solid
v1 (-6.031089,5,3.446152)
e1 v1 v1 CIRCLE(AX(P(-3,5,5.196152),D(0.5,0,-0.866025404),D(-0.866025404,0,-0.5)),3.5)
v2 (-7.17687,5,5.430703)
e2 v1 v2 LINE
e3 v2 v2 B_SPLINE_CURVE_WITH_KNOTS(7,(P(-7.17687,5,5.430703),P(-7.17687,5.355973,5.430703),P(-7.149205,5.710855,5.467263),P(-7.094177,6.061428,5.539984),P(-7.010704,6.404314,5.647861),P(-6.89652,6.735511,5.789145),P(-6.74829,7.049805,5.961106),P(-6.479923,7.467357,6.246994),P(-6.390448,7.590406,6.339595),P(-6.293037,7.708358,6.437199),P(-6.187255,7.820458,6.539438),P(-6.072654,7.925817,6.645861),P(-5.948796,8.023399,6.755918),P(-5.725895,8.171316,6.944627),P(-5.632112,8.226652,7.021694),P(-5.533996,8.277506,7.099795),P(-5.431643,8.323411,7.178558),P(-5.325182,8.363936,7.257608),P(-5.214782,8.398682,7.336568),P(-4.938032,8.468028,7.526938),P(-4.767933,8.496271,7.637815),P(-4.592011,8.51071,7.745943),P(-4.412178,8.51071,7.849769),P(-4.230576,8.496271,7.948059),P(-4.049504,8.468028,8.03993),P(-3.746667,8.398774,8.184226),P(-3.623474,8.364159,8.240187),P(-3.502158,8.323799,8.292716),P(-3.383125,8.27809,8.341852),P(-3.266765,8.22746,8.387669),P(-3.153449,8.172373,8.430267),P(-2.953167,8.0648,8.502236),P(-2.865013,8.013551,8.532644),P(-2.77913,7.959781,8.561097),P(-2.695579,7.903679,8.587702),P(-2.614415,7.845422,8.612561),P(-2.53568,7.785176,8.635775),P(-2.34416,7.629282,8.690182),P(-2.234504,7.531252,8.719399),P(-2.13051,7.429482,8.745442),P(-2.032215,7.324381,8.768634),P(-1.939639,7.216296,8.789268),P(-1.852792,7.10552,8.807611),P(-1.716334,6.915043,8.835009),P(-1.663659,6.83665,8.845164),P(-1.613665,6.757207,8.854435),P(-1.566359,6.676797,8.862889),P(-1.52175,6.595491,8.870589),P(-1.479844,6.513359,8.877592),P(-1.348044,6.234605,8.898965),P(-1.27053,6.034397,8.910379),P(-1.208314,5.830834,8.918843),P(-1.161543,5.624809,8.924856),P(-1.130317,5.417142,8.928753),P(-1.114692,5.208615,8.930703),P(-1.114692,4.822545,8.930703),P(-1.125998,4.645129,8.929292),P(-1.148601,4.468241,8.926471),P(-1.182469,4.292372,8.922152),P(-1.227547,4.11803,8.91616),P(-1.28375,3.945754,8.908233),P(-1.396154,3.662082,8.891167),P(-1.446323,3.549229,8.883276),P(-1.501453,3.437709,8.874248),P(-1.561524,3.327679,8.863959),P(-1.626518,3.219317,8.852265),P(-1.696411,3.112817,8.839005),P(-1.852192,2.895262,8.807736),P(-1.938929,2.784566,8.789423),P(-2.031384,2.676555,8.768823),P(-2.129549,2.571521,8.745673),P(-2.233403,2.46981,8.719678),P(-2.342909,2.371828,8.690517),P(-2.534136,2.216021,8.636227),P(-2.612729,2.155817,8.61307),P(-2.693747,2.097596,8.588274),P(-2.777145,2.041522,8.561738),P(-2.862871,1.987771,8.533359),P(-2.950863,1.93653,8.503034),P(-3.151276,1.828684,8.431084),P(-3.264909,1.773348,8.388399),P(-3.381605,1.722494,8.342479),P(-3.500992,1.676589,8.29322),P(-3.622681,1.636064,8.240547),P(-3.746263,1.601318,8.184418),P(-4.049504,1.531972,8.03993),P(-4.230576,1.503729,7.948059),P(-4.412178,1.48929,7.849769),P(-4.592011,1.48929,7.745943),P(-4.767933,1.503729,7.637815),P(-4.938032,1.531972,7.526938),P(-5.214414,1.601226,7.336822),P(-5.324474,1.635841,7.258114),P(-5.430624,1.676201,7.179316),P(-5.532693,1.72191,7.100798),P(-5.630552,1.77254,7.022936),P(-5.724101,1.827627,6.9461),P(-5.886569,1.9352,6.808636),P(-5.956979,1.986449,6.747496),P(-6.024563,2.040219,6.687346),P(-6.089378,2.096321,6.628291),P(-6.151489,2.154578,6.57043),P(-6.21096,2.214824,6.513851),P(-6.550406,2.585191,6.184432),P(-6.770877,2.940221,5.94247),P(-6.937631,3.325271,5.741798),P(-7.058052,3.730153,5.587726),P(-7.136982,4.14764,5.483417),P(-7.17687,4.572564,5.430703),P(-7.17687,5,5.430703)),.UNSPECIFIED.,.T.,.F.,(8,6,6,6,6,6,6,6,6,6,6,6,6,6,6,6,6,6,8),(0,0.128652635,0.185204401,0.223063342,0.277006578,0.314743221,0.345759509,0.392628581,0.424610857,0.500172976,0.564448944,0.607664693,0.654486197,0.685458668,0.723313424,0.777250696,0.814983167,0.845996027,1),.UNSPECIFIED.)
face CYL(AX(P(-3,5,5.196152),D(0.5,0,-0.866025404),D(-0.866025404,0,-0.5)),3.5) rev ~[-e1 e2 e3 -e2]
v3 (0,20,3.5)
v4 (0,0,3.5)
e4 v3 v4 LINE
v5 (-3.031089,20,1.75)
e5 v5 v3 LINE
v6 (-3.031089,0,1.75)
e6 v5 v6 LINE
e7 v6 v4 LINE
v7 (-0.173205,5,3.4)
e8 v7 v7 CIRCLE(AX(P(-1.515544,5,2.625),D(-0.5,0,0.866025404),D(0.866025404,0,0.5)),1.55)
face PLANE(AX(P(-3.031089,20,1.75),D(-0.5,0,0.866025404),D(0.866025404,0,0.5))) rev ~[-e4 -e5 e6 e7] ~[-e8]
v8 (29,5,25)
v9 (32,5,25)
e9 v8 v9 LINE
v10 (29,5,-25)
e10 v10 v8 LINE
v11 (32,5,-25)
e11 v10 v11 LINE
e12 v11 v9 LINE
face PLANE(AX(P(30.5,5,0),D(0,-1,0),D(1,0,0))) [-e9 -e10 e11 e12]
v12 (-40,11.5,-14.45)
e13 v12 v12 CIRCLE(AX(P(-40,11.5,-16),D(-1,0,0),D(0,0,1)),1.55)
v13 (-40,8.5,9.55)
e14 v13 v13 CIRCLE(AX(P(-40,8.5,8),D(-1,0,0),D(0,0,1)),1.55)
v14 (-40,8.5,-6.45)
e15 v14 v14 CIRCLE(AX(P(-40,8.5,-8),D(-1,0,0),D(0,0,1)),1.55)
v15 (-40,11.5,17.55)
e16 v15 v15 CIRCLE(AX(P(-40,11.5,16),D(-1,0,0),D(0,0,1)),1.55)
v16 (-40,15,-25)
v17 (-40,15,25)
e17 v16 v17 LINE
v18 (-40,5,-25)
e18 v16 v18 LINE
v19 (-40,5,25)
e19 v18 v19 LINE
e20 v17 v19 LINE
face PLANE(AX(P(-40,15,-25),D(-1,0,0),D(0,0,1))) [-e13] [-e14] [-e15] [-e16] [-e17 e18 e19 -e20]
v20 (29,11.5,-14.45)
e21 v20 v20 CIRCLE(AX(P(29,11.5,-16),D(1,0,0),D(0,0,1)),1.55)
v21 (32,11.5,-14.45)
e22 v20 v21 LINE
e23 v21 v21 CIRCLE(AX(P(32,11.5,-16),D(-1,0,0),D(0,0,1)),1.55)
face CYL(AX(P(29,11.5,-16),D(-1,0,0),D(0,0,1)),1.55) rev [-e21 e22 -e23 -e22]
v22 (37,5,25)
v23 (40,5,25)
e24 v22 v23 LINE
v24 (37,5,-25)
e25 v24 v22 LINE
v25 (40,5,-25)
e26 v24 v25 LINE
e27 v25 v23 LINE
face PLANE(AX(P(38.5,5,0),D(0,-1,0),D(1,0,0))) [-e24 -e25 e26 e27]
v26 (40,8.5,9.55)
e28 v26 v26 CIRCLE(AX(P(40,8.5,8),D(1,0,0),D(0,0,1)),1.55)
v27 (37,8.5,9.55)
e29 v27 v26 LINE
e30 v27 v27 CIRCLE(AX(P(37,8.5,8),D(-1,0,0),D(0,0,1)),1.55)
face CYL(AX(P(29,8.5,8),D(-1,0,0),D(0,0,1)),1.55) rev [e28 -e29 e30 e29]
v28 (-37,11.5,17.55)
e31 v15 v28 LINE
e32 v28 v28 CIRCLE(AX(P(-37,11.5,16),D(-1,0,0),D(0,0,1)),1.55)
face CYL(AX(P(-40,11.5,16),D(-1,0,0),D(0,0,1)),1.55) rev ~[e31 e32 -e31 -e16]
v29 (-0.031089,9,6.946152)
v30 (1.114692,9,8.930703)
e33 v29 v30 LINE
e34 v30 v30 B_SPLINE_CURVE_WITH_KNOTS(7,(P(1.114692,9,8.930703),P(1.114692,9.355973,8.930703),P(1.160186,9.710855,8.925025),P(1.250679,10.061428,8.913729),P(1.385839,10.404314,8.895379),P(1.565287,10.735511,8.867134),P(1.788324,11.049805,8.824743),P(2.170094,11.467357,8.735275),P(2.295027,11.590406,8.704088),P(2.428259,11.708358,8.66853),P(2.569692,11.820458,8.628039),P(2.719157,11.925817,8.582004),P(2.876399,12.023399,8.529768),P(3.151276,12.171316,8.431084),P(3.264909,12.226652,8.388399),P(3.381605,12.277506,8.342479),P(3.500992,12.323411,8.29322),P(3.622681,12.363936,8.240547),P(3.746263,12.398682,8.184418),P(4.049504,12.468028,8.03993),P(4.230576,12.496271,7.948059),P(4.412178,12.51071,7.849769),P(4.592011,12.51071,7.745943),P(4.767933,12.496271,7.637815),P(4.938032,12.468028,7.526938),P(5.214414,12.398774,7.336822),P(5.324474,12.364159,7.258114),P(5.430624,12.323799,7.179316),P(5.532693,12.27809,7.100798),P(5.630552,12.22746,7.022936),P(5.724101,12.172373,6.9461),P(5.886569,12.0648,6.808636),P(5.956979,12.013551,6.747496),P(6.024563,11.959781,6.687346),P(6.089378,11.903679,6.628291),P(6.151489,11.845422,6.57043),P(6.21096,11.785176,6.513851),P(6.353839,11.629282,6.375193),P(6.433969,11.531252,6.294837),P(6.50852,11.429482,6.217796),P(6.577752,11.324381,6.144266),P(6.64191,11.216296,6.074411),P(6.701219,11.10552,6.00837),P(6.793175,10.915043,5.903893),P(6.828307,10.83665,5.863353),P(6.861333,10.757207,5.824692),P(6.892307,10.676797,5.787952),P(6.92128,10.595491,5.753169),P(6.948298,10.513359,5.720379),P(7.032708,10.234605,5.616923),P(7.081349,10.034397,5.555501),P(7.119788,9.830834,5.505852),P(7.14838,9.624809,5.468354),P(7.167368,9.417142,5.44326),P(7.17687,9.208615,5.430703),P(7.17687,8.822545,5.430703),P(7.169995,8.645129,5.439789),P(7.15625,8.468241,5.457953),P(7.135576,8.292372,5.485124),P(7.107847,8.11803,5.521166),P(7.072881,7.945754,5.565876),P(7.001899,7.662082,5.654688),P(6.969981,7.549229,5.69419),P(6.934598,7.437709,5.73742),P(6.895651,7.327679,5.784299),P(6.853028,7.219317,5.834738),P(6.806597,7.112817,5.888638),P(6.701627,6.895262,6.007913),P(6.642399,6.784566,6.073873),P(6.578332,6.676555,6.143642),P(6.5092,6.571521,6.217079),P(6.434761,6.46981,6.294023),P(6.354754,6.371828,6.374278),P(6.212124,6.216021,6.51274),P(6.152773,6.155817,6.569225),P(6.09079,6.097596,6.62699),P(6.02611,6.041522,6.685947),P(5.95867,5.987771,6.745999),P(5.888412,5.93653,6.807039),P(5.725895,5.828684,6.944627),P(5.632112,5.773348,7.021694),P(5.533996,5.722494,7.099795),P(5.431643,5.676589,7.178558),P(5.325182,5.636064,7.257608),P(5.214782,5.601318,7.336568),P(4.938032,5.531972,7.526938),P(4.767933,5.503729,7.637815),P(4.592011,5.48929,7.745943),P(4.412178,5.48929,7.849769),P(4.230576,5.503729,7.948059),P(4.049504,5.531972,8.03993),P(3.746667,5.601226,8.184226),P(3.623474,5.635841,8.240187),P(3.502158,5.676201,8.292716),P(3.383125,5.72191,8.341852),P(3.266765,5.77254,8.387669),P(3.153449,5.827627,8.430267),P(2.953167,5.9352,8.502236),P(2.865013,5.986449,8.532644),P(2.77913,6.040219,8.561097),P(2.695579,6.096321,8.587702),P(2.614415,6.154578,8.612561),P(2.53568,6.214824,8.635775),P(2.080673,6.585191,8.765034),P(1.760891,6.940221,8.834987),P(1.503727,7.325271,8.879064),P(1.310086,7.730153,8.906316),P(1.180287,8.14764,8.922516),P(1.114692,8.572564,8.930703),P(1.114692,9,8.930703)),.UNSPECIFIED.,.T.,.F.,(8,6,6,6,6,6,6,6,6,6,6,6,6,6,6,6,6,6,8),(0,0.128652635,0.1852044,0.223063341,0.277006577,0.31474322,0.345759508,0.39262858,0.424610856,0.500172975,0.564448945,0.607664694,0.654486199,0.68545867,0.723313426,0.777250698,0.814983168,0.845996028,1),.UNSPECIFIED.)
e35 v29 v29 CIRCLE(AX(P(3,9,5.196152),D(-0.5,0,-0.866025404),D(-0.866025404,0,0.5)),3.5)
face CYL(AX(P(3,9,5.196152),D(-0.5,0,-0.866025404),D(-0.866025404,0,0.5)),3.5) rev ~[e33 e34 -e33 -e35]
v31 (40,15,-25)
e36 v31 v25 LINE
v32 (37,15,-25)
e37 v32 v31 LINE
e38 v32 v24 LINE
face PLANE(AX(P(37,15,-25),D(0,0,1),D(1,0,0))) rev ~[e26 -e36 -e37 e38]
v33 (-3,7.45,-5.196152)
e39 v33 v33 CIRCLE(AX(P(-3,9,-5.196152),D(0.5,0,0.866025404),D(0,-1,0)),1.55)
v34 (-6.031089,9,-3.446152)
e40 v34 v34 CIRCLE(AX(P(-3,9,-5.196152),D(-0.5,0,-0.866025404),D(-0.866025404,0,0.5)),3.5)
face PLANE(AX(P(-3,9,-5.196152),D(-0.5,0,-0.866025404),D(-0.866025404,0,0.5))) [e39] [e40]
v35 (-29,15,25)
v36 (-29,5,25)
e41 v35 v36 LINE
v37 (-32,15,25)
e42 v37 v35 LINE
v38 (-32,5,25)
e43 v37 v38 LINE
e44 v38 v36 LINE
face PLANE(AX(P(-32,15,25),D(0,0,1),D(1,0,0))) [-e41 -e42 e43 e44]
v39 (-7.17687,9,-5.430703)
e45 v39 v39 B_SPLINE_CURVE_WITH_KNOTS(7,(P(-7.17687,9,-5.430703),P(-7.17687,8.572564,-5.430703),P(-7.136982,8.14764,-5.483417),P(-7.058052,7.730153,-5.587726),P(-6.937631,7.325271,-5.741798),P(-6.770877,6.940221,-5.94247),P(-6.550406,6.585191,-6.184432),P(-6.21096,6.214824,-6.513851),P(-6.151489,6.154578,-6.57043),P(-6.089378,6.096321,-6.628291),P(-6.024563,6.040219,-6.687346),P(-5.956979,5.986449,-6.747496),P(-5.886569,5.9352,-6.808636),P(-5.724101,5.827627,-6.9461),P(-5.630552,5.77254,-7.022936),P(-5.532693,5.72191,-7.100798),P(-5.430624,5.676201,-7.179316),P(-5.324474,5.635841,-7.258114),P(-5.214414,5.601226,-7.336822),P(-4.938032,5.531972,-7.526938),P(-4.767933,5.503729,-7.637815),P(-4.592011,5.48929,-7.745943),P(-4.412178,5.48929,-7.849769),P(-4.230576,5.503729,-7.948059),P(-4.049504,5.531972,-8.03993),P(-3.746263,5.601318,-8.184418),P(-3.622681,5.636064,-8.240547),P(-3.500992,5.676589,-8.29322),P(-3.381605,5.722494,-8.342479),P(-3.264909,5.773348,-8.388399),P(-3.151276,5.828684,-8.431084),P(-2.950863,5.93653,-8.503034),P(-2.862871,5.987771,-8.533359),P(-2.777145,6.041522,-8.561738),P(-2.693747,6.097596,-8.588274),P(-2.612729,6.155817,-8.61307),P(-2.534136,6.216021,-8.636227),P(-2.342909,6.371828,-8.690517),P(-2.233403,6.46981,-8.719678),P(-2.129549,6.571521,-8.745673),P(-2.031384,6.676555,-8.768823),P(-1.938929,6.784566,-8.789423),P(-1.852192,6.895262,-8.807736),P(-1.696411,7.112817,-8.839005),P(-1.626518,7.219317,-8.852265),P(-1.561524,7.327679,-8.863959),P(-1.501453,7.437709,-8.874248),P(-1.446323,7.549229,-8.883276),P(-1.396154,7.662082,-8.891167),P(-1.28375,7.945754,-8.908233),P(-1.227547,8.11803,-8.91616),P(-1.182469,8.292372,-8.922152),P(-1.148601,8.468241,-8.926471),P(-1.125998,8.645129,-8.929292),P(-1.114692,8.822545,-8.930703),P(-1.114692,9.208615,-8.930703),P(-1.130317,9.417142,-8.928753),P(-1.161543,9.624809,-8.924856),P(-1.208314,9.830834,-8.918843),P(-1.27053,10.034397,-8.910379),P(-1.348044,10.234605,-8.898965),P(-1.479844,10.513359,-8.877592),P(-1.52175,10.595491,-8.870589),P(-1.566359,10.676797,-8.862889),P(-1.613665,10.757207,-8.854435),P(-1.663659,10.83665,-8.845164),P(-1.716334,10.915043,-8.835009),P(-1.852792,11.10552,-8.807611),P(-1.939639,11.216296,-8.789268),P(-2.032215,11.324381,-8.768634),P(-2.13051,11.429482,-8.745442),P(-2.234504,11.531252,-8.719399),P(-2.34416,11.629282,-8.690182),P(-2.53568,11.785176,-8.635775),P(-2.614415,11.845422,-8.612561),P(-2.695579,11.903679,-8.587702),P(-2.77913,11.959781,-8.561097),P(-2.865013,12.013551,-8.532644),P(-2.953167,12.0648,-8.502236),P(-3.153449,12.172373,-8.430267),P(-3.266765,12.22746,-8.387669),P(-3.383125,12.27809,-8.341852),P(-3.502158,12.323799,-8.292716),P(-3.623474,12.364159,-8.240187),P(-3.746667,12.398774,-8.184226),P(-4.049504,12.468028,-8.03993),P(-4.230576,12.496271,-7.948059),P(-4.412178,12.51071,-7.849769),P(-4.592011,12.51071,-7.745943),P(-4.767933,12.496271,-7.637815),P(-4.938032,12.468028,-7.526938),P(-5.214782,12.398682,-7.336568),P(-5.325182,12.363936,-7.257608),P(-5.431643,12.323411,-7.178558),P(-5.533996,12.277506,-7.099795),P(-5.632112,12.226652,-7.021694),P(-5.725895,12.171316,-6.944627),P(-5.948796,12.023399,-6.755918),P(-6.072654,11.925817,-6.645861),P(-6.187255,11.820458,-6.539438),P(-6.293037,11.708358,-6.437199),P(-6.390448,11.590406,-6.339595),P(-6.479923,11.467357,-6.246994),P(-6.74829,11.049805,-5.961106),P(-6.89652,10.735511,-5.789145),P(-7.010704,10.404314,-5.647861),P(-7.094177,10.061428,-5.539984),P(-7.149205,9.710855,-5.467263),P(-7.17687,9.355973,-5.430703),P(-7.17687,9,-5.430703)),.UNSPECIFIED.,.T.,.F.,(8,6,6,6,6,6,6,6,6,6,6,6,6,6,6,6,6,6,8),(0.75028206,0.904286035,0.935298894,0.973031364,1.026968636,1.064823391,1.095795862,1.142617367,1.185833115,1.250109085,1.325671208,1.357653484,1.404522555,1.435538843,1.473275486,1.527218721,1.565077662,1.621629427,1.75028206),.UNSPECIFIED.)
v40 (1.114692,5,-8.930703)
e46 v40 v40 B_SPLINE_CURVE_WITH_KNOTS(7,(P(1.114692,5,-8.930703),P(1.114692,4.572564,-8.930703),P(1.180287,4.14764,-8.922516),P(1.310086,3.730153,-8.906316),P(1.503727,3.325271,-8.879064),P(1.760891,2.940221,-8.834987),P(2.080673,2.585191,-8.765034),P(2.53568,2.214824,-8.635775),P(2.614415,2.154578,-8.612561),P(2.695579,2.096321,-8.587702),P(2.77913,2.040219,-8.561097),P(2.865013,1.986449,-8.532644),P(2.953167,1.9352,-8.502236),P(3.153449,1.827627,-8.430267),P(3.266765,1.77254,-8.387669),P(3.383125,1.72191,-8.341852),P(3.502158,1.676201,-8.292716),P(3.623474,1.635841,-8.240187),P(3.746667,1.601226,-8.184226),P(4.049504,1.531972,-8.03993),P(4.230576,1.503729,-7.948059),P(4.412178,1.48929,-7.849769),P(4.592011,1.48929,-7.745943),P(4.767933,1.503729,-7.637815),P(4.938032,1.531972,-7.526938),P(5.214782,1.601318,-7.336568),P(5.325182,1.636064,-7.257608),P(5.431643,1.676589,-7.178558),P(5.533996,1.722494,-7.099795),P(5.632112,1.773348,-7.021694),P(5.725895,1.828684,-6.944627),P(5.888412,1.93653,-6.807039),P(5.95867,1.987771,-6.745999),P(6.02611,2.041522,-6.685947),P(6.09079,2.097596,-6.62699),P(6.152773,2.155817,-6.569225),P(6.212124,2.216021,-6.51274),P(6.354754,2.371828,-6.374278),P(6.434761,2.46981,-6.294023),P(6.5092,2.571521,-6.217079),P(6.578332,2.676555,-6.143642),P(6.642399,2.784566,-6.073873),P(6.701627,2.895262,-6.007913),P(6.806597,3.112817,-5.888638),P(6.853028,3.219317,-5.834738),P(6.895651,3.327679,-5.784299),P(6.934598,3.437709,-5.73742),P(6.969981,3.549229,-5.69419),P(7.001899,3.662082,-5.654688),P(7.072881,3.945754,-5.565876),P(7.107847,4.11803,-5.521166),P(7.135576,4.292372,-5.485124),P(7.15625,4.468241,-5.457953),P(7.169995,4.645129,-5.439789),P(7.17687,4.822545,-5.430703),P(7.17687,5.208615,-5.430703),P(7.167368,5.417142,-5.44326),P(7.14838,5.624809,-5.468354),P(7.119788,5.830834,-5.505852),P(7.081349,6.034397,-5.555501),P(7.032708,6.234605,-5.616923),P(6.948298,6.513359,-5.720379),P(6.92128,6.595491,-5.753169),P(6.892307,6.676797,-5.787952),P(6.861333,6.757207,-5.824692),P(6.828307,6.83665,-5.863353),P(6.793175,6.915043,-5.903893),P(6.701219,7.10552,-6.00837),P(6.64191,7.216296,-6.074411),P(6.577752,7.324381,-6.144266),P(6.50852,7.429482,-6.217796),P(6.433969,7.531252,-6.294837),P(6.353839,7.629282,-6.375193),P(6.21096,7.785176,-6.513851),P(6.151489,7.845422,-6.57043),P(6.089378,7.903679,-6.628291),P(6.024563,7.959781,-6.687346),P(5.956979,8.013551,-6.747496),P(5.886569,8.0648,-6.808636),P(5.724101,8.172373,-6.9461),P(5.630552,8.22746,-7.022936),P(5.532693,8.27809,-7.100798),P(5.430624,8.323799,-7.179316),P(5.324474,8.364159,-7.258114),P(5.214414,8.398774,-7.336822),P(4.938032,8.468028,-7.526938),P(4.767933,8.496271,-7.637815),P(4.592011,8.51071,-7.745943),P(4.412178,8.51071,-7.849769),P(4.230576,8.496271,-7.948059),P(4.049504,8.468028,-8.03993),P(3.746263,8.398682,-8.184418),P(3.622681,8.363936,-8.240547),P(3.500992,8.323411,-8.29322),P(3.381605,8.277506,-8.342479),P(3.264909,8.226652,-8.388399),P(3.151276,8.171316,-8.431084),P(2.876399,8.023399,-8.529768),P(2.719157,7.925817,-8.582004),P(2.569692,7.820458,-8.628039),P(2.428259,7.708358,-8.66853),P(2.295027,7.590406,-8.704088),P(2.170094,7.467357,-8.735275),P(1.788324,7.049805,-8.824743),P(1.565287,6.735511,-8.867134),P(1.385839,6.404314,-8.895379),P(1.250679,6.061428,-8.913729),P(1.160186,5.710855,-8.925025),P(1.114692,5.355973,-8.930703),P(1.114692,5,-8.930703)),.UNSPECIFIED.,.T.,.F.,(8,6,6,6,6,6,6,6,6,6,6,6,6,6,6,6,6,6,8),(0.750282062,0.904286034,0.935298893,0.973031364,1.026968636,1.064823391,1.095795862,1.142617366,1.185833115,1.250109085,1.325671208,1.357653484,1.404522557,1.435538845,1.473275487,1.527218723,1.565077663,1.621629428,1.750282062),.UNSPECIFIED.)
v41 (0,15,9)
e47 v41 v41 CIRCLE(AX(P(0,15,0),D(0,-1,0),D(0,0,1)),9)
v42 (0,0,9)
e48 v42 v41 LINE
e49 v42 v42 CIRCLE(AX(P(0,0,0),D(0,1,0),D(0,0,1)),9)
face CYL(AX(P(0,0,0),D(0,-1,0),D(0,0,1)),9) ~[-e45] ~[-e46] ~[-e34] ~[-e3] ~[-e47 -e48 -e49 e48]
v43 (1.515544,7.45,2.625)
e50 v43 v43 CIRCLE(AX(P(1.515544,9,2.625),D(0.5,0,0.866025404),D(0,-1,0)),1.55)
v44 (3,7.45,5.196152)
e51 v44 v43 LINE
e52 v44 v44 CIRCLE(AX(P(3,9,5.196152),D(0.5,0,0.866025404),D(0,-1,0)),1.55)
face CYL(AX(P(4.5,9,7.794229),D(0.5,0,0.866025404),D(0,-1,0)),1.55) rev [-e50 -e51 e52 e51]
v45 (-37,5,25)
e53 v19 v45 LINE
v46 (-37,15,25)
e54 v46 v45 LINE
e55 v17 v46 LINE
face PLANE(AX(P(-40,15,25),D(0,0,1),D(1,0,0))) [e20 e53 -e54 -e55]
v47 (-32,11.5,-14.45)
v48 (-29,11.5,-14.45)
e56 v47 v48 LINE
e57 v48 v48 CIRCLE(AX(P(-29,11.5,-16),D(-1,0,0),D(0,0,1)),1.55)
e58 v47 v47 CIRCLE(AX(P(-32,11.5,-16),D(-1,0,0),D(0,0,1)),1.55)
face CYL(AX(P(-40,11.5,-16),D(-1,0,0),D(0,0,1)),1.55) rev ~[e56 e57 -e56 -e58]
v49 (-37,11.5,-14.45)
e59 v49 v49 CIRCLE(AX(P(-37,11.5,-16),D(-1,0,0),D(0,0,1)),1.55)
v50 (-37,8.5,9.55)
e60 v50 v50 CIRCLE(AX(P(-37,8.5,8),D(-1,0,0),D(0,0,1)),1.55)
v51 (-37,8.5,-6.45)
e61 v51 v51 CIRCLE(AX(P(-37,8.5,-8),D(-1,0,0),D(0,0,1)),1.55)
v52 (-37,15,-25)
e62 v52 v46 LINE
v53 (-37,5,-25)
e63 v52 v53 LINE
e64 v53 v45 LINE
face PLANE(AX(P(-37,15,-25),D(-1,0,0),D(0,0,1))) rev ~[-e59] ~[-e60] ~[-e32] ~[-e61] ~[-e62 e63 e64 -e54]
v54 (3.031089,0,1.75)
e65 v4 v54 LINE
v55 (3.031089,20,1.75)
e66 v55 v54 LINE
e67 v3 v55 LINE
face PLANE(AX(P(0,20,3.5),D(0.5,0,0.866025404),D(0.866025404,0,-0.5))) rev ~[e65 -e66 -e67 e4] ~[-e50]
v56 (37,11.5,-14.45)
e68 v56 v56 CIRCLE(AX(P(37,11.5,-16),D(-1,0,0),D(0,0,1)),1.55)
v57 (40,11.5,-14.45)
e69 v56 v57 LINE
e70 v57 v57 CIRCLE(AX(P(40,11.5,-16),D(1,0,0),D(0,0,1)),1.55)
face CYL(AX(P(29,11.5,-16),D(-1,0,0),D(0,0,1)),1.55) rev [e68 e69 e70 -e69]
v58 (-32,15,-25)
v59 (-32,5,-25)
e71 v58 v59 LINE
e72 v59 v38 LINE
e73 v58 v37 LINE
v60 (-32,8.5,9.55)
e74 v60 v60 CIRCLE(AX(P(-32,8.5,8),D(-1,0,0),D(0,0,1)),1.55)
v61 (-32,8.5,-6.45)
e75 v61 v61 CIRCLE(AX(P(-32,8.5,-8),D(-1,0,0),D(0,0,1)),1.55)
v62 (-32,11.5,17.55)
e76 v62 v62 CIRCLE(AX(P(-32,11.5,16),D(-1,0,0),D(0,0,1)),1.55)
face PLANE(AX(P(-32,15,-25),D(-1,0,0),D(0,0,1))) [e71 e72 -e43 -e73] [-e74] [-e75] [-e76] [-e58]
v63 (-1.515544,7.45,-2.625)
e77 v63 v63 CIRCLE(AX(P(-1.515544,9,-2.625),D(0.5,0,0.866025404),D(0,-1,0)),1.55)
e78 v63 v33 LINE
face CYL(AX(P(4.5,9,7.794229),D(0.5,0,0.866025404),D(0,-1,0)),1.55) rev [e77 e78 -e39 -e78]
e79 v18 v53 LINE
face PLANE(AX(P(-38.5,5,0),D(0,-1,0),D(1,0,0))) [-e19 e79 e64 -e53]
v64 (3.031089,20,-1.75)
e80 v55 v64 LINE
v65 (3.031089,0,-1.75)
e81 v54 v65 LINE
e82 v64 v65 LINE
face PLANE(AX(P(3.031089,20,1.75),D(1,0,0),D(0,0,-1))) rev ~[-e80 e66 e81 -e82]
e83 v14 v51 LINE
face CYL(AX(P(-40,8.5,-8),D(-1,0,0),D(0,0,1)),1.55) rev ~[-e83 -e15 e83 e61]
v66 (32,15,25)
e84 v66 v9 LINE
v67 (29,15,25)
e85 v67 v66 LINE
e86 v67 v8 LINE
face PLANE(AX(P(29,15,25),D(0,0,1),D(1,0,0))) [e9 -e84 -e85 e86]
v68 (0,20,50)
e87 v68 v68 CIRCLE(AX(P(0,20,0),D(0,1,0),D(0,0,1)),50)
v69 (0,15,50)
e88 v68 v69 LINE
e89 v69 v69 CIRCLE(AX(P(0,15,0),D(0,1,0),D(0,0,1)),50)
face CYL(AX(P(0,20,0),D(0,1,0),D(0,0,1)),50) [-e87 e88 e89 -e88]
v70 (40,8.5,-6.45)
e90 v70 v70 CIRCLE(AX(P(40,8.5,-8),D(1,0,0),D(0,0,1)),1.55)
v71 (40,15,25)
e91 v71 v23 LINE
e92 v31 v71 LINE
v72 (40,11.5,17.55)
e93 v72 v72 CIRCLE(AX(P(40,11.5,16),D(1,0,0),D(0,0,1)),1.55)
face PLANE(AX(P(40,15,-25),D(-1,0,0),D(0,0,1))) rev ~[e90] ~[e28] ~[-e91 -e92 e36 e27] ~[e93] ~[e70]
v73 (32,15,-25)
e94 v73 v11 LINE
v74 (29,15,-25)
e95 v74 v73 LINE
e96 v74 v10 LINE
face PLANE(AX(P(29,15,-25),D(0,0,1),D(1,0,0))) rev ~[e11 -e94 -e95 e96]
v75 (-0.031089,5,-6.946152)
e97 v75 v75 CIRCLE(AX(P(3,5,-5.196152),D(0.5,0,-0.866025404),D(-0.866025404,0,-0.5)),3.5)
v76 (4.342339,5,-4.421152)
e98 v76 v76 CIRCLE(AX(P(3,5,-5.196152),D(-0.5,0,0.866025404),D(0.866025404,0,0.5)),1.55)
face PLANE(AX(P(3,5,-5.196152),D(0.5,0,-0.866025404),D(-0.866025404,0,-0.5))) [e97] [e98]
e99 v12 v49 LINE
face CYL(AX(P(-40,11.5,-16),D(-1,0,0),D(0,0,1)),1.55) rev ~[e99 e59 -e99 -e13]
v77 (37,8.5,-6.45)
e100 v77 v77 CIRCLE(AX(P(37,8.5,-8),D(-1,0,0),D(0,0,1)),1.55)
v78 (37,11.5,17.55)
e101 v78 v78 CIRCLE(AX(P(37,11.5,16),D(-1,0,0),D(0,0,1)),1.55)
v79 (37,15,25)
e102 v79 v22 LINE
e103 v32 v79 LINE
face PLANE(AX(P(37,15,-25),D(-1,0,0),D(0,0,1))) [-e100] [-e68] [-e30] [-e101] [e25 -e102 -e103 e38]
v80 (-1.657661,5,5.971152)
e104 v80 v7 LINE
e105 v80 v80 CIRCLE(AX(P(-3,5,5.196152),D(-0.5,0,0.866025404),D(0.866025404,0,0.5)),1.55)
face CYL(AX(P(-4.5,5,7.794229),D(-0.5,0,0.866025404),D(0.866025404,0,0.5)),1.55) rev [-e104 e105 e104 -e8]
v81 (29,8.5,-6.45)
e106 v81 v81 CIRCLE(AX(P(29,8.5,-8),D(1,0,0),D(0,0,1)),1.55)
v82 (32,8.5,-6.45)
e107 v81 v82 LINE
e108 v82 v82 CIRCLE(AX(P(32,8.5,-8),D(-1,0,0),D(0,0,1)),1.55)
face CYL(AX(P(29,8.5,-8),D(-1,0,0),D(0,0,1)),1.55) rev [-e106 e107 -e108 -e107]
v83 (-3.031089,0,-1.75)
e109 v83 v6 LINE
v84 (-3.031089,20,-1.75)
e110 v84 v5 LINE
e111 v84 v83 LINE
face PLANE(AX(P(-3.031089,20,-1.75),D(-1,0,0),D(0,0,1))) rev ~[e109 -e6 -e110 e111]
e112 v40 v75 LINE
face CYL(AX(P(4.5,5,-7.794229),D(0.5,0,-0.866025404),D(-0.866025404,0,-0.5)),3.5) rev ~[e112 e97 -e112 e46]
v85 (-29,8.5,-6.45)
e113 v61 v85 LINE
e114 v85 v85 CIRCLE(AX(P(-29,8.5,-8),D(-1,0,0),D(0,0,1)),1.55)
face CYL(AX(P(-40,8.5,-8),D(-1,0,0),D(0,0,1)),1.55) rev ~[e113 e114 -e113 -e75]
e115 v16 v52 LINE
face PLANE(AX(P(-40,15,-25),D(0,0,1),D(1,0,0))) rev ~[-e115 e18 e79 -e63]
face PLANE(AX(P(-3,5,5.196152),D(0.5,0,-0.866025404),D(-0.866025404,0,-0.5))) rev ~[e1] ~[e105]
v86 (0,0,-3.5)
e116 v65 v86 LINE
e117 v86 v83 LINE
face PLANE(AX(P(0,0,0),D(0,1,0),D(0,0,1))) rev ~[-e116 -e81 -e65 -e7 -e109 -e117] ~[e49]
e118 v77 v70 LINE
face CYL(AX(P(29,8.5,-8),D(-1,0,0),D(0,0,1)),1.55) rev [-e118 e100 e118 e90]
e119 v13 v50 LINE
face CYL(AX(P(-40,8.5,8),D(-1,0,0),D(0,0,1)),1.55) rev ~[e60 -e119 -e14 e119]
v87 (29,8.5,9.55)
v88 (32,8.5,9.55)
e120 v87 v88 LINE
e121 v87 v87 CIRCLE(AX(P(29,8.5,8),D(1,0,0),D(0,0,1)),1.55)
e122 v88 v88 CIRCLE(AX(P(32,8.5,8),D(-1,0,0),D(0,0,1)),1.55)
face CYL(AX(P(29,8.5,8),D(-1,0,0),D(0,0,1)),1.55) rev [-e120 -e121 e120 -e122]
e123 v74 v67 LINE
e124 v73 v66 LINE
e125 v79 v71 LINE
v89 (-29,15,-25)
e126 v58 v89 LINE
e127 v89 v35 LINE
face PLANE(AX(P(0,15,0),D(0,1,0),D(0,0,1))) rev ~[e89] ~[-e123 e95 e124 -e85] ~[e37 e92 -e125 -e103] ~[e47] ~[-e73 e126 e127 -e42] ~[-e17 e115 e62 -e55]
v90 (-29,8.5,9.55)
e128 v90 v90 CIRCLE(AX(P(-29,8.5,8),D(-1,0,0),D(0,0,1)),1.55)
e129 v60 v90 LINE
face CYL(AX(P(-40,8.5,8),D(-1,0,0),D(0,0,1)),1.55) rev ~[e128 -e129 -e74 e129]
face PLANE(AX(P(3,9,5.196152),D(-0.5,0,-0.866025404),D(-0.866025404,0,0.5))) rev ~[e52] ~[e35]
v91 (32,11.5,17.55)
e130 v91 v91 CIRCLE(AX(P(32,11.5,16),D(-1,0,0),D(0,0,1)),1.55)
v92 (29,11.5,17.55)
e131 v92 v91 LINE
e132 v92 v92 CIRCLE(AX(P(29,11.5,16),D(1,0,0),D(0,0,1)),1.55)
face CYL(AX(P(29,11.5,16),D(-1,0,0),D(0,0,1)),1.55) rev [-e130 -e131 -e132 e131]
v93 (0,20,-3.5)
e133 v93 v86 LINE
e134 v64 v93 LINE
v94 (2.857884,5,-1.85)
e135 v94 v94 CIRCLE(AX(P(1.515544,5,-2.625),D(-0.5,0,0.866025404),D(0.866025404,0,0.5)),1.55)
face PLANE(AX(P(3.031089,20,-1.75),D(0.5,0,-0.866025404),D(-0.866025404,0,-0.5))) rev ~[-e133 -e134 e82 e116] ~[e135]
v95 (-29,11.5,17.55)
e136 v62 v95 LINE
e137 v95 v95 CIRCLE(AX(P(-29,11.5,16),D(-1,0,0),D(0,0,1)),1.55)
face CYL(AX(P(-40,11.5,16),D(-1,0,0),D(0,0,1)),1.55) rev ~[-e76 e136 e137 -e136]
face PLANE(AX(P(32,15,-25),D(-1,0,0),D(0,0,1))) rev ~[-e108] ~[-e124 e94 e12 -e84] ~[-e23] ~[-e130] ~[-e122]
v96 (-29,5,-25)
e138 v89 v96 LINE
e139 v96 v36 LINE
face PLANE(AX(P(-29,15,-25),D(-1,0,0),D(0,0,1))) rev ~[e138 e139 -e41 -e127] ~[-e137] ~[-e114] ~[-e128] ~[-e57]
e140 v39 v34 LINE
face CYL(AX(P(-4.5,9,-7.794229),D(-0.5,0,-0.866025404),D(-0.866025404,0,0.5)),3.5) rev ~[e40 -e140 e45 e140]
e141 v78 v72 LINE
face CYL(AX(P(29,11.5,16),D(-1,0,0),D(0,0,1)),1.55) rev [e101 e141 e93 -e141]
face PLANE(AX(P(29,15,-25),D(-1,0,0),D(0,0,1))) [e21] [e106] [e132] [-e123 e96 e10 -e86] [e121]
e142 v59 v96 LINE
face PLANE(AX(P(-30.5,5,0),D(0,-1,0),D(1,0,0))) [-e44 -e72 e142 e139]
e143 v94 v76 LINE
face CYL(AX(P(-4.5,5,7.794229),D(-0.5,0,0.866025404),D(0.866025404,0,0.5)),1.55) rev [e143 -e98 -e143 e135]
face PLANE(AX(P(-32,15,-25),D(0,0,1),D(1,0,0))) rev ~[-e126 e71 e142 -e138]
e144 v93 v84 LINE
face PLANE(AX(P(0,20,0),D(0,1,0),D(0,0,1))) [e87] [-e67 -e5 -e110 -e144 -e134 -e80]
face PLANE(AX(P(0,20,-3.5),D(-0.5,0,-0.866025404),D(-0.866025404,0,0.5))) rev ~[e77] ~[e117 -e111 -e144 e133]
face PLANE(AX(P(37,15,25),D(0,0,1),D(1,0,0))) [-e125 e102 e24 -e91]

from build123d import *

# Parameters (mm, degrees)
SKETCH2_R               = 9
BOSS_EXTRUDE1_DEPTH     = 20
CUT_EXTRUDE1_DEPTH      = 20
SKETCH4_R               = 50
SKETCH4_R_2             = 4.5
BOSS_EXTRUDE3_DEPTH     = 5
CUT_EXTRUDE2_DEPTH      = 9
CUT_EXTRUDE2_DEPTH_BACK = 9
SKETCH11_R              = 1.55
CUT_EXTRUDE9_DEPTH      = 9
CUT_EXTRUDE9_DEPTH_BACK = 9
SKETCH15_R              = 1.55
SKETCH16_W              = 3
SKETCH16_H              = 50
BOSS_EXTRUDE4_DEPTH     = 10
CUT_EXTRUDE10_REACH     = 106.881
SKETCH17_R              = 1.55
CUT_EXTRUDE11_START     = -11
SKETCH18_R              = 1.55
CUT_EXTRUDE11_DEPTH     = 11
CUT_EXTRUDE14_START     = 9
SKETCH19_R              = 3.5
CUT_EXTRUDE14_DEPTH     = 3
CUT_EXTRUDE15_START     = -6
SKETCH19_3_R            = 3.5
CUT_EXTRUDE15_DEPTH     = 3
CUT_EXTRUDE16_START     = 9
SKETCH20_R              = 3.5
CUT_EXTRUDE16_DEPTH     = 3
CUT_EXTRUDE17_START     = -6
SKETCH20_2_R            = 3.5
CUT_EXTRUDE17_DEPTH     = 3


with BuildPart() as part:
    # Sketch2 → Boss-Extrude1 (new body)
    with BuildSketch(Plane(origin=(0, 0, 0), x_dir=(1, 0, 0), z_dir=(0, 1, 0))):
        with Locations(Location((0, 0, 0), (0, 0, 270))):
            Circle(SKETCH2_R)
    extrude(amount=BOSS_EXTRUDE1_DEPTH)

    # Sketch3 → Cut-Extrude1 (cut)
    with BuildSketch(Plane(origin=(0, 20, 0), x_dir=(1, 0, 0), z_dir=(0, 1, 0))):
        Polygon((0, 3.5), (-3.031088913, 1.75), (-3.031088913, -1.75), (0, -3.5), (3.031088913, -1.75), (3.031088913, 1.75), align=None)
    extrude(amount=-CUT_EXTRUDE1_DEPTH, mode=Mode.SUBTRACT)

    # Sketch4 → Boss-Extrude3 (add)
    with BuildSketch(Plane(origin=(0, 20, 0), x_dir=(1, 0, 0), z_dir=(0, 1, 0))):
        with Locations(Location((0, 0, 0), (0, 0, 270))):
            Circle(SKETCH4_R)
        Circle(SKETCH4_R_2, mode=Mode.SUBTRACT)
    extrude(amount=-BOSS_EXTRUDE3_DEPTH)

    # Sketch11 → Cut-Extrude2 (cut, two sides: drawn at the far end of the back side and taken through both)
    with BuildSketch(Plane(origin=(0, 0, 0), x_dir=(-0.8660254037844387, 0, -0.49999999999999983), z_dir=(0.49999999999999983, 0, -0.8660254037844387)).offset(-CUT_EXTRUDE2_DEPTH_BACK)):
        with Locations(Location((0, 5, 0), (0, 0, 180))):
            Circle(SKETCH11_R)
    extrude(amount=CUT_EXTRUDE2_DEPTH + CUT_EXTRUDE2_DEPTH_BACK, mode=Mode.SUBTRACT)

    # Sketch15 → Cut-Extrude9 (cut, two sides: drawn at the far end of the back side and taken through both)
    with BuildSketch(Plane(origin=(0, 0, 0), x_dir=(-0.866025403784439, 0, 0.49999999999999944), z_dir=(-0.49999999999999944, 0, -0.866025403784439)).offset(-CUT_EXTRUDE9_DEPTH_BACK)):
        with Locations(Location((0, 9, 0), (0, 0, 270))):
            Circle(SKETCH15_R)
    extrude(amount=CUT_EXTRUDE9_DEPTH + CUT_EXTRUDE9_DEPTH_BACK, mode=Mode.SUBTRACT)

    # Sketch16 → Boss-Extrude4 (add)
    with BuildSketch(Plane.XZ.offset(-15)):
        with Locations((-30.5, 0)):
            Rectangle(SKETCH16_W, SKETCH16_H)
        with Locations((-38.5, 0)):
            Rectangle(SKETCH16_W, SKETCH16_H)
        with Locations((30.5, 0)):
            Rectangle(SKETCH16_W, SKETCH16_H)
        with Locations((38.5, 0)):
            Rectangle(SKETCH16_W, SKETCH16_H)
    extrude(amount=BOSS_EXTRUDE4_DEPTH)

    # Cut-Extrude10: up to this face of the body (flat: up to its plane)
    cut_extrude10_end = Plane(part.part.faces().sort_by_distance((-29, 10, 0))[0])
    # Sketch17 → Cut-Extrude10 (cut, up to the picked face)
    with BuildSketch(Plane.ZY.offset(40), mode=Mode.PRIVATE) as cut_extrude10_sk1:
        with Locations((-16, 11.5)):
            Circle(SKETCH17_R)
    cut_extrude10_tool1 = split(extrude(cut_extrude10_sk1.sketch, amount=-CUT_EXTRUDE10_REACH, mode=Mode.PRIVATE), bisect_by=cut_extrude10_end, keep=Keep.BOTH, mode=Mode.PRIVATE)
    # Sketch17 → Cut-Extrude10 (cut, up to the picked face)
    with BuildSketch(Plane.ZY.offset(40), mode=Mode.PRIVATE) as cut_extrude10_sk2:
        with Locations((-8, 8.5)):
            Circle(SKETCH17_R)
    cut_extrude10_tool2 = split(extrude(cut_extrude10_sk2.sketch, amount=-CUT_EXTRUDE10_REACH, mode=Mode.PRIVATE), bisect_by=cut_extrude10_end, keep=Keep.BOTH, mode=Mode.PRIVATE)
    # Sketch17 → Cut-Extrude10 (cut, up to the picked face)
    with BuildSketch(Plane.ZY.offset(40), mode=Mode.PRIVATE) as cut_extrude10_sk3:
        with Locations((8, 8.5)):
            Circle(SKETCH17_R)
    cut_extrude10_tool3 = split(extrude(cut_extrude10_sk3.sketch, amount=-CUT_EXTRUDE10_REACH, mode=Mode.PRIVATE), bisect_by=cut_extrude10_end, keep=Keep.BOTH, mode=Mode.PRIVATE)
    # Sketch17 → Cut-Extrude10 (cut, up to the picked face)
    with BuildSketch(Plane.ZY.offset(40), mode=Mode.PRIVATE) as cut_extrude10_sk4:
        with Locations((16, 11.5)):
            Circle(SKETCH17_R)
    cut_extrude10_tool4 = split(extrude(cut_extrude10_sk4.sketch, amount=-CUT_EXTRUDE10_REACH, mode=Mode.PRIVATE), bisect_by=cut_extrude10_end, keep=Keep.BOTH, mode=Mode.PRIVATE)
    add(cut_extrude10_tool1.solids().sort_by(Axis((-40, 11.5, -16), (1, 0, 0)))[0], mode=Mode.SUBTRACT)
    add(cut_extrude10_tool2.solids().sort_by(Axis((-40, 8.5, -8), (1, 0, 0)))[0], mode=Mode.SUBTRACT)
    add(cut_extrude10_tool3.solids().sort_by(Axis((-40, 8.5, 8), (1, 0, 0)))[0], mode=Mode.SUBTRACT)
    add(cut_extrude10_tool4.solids().sort_by(Axis((-40, 11.5, 16), (1, 0, 0)))[0], mode=Mode.SUBTRACT)

    # Sketch18 → Cut-Extrude11 (cut)
    with BuildSketch(Plane(origin=(40, 0, 0), x_dir=(0, 0, -1), z_dir=(1, 0, 0)).offset(CUT_EXTRUDE11_START)):
        with Locations(Location((-8, 8.5, 0), (0, 0, 180))):
            Circle(SKETCH18_R)
        with Locations(Location((8, 8.5, 0), (0, 0, 180))):
            Circle(SKETCH18_R)
        with Locations(Location((16, 11.5, 0), (0, 0, 180))):
            Circle(SKETCH18_R)
        with Locations(Location((-16, 11.5, 0), (0, 0, 180))):
            Circle(SKETCH18_R)
    extrude(amount=CUT_EXTRUDE11_DEPTH, mode=Mode.SUBTRACT)

    # Sketch19 → Cut-Extrude14 (cut)
    with BuildSketch(Plane(origin=(0, 0, 0), x_dir=(-0.866025403784439, 0, 0.49999999999999944), z_dir=(-0.49999999999999944, 0, -0.866025403784439)).offset(CUT_EXTRUDE14_START)):
        with Locations((0, 9)):
            Circle(SKETCH19_R)
    extrude(amount=-CUT_EXTRUDE14_DEPTH, mode=Mode.SUBTRACT)

    # Sketch19<3> → Cut-Extrude15 (cut)
    with BuildSketch(Plane(origin=(0, 0, 0), x_dir=(-0.866025403784439, 0, 0.49999999999999944), z_dir=(-0.49999999999999944, 0, -0.866025403784439)).offset(CUT_EXTRUDE15_START)):
        with Locations((0, 9)):
            Circle(SKETCH19_3_R)
    extrude(amount=-CUT_EXTRUDE15_DEPTH, mode=Mode.SUBTRACT)

    # Sketch20 → Cut-Extrude16 (cut)
    with BuildSketch(Plane(origin=(0, 0, 0), x_dir=(-0.8660254037844387, 0, -0.49999999999999983), z_dir=(0.49999999999999983, 0, -0.8660254037844387)).offset(CUT_EXTRUDE16_START)):
        with Locations((0, 5)):
            Circle(SKETCH20_R)
    extrude(amount=-CUT_EXTRUDE16_DEPTH, mode=Mode.SUBTRACT)

    # Sketch20<2> → Cut-Extrude17 (cut)
    with BuildSketch(Plane(origin=(0, 0, 0), x_dir=(-0.8660254037844387, 0, -0.49999999999999983), z_dir=(0.49999999999999983, 0, -0.8660254037844387)).offset(CUT_EXTRUDE17_START)):
        with Locations((0, 5)):
            Circle(SKETCH20_2_R)
    extrude(amount=-CUT_EXTRUDE17_DEPTH, mode=Mode.SUBTRACT)


solid = part.part
